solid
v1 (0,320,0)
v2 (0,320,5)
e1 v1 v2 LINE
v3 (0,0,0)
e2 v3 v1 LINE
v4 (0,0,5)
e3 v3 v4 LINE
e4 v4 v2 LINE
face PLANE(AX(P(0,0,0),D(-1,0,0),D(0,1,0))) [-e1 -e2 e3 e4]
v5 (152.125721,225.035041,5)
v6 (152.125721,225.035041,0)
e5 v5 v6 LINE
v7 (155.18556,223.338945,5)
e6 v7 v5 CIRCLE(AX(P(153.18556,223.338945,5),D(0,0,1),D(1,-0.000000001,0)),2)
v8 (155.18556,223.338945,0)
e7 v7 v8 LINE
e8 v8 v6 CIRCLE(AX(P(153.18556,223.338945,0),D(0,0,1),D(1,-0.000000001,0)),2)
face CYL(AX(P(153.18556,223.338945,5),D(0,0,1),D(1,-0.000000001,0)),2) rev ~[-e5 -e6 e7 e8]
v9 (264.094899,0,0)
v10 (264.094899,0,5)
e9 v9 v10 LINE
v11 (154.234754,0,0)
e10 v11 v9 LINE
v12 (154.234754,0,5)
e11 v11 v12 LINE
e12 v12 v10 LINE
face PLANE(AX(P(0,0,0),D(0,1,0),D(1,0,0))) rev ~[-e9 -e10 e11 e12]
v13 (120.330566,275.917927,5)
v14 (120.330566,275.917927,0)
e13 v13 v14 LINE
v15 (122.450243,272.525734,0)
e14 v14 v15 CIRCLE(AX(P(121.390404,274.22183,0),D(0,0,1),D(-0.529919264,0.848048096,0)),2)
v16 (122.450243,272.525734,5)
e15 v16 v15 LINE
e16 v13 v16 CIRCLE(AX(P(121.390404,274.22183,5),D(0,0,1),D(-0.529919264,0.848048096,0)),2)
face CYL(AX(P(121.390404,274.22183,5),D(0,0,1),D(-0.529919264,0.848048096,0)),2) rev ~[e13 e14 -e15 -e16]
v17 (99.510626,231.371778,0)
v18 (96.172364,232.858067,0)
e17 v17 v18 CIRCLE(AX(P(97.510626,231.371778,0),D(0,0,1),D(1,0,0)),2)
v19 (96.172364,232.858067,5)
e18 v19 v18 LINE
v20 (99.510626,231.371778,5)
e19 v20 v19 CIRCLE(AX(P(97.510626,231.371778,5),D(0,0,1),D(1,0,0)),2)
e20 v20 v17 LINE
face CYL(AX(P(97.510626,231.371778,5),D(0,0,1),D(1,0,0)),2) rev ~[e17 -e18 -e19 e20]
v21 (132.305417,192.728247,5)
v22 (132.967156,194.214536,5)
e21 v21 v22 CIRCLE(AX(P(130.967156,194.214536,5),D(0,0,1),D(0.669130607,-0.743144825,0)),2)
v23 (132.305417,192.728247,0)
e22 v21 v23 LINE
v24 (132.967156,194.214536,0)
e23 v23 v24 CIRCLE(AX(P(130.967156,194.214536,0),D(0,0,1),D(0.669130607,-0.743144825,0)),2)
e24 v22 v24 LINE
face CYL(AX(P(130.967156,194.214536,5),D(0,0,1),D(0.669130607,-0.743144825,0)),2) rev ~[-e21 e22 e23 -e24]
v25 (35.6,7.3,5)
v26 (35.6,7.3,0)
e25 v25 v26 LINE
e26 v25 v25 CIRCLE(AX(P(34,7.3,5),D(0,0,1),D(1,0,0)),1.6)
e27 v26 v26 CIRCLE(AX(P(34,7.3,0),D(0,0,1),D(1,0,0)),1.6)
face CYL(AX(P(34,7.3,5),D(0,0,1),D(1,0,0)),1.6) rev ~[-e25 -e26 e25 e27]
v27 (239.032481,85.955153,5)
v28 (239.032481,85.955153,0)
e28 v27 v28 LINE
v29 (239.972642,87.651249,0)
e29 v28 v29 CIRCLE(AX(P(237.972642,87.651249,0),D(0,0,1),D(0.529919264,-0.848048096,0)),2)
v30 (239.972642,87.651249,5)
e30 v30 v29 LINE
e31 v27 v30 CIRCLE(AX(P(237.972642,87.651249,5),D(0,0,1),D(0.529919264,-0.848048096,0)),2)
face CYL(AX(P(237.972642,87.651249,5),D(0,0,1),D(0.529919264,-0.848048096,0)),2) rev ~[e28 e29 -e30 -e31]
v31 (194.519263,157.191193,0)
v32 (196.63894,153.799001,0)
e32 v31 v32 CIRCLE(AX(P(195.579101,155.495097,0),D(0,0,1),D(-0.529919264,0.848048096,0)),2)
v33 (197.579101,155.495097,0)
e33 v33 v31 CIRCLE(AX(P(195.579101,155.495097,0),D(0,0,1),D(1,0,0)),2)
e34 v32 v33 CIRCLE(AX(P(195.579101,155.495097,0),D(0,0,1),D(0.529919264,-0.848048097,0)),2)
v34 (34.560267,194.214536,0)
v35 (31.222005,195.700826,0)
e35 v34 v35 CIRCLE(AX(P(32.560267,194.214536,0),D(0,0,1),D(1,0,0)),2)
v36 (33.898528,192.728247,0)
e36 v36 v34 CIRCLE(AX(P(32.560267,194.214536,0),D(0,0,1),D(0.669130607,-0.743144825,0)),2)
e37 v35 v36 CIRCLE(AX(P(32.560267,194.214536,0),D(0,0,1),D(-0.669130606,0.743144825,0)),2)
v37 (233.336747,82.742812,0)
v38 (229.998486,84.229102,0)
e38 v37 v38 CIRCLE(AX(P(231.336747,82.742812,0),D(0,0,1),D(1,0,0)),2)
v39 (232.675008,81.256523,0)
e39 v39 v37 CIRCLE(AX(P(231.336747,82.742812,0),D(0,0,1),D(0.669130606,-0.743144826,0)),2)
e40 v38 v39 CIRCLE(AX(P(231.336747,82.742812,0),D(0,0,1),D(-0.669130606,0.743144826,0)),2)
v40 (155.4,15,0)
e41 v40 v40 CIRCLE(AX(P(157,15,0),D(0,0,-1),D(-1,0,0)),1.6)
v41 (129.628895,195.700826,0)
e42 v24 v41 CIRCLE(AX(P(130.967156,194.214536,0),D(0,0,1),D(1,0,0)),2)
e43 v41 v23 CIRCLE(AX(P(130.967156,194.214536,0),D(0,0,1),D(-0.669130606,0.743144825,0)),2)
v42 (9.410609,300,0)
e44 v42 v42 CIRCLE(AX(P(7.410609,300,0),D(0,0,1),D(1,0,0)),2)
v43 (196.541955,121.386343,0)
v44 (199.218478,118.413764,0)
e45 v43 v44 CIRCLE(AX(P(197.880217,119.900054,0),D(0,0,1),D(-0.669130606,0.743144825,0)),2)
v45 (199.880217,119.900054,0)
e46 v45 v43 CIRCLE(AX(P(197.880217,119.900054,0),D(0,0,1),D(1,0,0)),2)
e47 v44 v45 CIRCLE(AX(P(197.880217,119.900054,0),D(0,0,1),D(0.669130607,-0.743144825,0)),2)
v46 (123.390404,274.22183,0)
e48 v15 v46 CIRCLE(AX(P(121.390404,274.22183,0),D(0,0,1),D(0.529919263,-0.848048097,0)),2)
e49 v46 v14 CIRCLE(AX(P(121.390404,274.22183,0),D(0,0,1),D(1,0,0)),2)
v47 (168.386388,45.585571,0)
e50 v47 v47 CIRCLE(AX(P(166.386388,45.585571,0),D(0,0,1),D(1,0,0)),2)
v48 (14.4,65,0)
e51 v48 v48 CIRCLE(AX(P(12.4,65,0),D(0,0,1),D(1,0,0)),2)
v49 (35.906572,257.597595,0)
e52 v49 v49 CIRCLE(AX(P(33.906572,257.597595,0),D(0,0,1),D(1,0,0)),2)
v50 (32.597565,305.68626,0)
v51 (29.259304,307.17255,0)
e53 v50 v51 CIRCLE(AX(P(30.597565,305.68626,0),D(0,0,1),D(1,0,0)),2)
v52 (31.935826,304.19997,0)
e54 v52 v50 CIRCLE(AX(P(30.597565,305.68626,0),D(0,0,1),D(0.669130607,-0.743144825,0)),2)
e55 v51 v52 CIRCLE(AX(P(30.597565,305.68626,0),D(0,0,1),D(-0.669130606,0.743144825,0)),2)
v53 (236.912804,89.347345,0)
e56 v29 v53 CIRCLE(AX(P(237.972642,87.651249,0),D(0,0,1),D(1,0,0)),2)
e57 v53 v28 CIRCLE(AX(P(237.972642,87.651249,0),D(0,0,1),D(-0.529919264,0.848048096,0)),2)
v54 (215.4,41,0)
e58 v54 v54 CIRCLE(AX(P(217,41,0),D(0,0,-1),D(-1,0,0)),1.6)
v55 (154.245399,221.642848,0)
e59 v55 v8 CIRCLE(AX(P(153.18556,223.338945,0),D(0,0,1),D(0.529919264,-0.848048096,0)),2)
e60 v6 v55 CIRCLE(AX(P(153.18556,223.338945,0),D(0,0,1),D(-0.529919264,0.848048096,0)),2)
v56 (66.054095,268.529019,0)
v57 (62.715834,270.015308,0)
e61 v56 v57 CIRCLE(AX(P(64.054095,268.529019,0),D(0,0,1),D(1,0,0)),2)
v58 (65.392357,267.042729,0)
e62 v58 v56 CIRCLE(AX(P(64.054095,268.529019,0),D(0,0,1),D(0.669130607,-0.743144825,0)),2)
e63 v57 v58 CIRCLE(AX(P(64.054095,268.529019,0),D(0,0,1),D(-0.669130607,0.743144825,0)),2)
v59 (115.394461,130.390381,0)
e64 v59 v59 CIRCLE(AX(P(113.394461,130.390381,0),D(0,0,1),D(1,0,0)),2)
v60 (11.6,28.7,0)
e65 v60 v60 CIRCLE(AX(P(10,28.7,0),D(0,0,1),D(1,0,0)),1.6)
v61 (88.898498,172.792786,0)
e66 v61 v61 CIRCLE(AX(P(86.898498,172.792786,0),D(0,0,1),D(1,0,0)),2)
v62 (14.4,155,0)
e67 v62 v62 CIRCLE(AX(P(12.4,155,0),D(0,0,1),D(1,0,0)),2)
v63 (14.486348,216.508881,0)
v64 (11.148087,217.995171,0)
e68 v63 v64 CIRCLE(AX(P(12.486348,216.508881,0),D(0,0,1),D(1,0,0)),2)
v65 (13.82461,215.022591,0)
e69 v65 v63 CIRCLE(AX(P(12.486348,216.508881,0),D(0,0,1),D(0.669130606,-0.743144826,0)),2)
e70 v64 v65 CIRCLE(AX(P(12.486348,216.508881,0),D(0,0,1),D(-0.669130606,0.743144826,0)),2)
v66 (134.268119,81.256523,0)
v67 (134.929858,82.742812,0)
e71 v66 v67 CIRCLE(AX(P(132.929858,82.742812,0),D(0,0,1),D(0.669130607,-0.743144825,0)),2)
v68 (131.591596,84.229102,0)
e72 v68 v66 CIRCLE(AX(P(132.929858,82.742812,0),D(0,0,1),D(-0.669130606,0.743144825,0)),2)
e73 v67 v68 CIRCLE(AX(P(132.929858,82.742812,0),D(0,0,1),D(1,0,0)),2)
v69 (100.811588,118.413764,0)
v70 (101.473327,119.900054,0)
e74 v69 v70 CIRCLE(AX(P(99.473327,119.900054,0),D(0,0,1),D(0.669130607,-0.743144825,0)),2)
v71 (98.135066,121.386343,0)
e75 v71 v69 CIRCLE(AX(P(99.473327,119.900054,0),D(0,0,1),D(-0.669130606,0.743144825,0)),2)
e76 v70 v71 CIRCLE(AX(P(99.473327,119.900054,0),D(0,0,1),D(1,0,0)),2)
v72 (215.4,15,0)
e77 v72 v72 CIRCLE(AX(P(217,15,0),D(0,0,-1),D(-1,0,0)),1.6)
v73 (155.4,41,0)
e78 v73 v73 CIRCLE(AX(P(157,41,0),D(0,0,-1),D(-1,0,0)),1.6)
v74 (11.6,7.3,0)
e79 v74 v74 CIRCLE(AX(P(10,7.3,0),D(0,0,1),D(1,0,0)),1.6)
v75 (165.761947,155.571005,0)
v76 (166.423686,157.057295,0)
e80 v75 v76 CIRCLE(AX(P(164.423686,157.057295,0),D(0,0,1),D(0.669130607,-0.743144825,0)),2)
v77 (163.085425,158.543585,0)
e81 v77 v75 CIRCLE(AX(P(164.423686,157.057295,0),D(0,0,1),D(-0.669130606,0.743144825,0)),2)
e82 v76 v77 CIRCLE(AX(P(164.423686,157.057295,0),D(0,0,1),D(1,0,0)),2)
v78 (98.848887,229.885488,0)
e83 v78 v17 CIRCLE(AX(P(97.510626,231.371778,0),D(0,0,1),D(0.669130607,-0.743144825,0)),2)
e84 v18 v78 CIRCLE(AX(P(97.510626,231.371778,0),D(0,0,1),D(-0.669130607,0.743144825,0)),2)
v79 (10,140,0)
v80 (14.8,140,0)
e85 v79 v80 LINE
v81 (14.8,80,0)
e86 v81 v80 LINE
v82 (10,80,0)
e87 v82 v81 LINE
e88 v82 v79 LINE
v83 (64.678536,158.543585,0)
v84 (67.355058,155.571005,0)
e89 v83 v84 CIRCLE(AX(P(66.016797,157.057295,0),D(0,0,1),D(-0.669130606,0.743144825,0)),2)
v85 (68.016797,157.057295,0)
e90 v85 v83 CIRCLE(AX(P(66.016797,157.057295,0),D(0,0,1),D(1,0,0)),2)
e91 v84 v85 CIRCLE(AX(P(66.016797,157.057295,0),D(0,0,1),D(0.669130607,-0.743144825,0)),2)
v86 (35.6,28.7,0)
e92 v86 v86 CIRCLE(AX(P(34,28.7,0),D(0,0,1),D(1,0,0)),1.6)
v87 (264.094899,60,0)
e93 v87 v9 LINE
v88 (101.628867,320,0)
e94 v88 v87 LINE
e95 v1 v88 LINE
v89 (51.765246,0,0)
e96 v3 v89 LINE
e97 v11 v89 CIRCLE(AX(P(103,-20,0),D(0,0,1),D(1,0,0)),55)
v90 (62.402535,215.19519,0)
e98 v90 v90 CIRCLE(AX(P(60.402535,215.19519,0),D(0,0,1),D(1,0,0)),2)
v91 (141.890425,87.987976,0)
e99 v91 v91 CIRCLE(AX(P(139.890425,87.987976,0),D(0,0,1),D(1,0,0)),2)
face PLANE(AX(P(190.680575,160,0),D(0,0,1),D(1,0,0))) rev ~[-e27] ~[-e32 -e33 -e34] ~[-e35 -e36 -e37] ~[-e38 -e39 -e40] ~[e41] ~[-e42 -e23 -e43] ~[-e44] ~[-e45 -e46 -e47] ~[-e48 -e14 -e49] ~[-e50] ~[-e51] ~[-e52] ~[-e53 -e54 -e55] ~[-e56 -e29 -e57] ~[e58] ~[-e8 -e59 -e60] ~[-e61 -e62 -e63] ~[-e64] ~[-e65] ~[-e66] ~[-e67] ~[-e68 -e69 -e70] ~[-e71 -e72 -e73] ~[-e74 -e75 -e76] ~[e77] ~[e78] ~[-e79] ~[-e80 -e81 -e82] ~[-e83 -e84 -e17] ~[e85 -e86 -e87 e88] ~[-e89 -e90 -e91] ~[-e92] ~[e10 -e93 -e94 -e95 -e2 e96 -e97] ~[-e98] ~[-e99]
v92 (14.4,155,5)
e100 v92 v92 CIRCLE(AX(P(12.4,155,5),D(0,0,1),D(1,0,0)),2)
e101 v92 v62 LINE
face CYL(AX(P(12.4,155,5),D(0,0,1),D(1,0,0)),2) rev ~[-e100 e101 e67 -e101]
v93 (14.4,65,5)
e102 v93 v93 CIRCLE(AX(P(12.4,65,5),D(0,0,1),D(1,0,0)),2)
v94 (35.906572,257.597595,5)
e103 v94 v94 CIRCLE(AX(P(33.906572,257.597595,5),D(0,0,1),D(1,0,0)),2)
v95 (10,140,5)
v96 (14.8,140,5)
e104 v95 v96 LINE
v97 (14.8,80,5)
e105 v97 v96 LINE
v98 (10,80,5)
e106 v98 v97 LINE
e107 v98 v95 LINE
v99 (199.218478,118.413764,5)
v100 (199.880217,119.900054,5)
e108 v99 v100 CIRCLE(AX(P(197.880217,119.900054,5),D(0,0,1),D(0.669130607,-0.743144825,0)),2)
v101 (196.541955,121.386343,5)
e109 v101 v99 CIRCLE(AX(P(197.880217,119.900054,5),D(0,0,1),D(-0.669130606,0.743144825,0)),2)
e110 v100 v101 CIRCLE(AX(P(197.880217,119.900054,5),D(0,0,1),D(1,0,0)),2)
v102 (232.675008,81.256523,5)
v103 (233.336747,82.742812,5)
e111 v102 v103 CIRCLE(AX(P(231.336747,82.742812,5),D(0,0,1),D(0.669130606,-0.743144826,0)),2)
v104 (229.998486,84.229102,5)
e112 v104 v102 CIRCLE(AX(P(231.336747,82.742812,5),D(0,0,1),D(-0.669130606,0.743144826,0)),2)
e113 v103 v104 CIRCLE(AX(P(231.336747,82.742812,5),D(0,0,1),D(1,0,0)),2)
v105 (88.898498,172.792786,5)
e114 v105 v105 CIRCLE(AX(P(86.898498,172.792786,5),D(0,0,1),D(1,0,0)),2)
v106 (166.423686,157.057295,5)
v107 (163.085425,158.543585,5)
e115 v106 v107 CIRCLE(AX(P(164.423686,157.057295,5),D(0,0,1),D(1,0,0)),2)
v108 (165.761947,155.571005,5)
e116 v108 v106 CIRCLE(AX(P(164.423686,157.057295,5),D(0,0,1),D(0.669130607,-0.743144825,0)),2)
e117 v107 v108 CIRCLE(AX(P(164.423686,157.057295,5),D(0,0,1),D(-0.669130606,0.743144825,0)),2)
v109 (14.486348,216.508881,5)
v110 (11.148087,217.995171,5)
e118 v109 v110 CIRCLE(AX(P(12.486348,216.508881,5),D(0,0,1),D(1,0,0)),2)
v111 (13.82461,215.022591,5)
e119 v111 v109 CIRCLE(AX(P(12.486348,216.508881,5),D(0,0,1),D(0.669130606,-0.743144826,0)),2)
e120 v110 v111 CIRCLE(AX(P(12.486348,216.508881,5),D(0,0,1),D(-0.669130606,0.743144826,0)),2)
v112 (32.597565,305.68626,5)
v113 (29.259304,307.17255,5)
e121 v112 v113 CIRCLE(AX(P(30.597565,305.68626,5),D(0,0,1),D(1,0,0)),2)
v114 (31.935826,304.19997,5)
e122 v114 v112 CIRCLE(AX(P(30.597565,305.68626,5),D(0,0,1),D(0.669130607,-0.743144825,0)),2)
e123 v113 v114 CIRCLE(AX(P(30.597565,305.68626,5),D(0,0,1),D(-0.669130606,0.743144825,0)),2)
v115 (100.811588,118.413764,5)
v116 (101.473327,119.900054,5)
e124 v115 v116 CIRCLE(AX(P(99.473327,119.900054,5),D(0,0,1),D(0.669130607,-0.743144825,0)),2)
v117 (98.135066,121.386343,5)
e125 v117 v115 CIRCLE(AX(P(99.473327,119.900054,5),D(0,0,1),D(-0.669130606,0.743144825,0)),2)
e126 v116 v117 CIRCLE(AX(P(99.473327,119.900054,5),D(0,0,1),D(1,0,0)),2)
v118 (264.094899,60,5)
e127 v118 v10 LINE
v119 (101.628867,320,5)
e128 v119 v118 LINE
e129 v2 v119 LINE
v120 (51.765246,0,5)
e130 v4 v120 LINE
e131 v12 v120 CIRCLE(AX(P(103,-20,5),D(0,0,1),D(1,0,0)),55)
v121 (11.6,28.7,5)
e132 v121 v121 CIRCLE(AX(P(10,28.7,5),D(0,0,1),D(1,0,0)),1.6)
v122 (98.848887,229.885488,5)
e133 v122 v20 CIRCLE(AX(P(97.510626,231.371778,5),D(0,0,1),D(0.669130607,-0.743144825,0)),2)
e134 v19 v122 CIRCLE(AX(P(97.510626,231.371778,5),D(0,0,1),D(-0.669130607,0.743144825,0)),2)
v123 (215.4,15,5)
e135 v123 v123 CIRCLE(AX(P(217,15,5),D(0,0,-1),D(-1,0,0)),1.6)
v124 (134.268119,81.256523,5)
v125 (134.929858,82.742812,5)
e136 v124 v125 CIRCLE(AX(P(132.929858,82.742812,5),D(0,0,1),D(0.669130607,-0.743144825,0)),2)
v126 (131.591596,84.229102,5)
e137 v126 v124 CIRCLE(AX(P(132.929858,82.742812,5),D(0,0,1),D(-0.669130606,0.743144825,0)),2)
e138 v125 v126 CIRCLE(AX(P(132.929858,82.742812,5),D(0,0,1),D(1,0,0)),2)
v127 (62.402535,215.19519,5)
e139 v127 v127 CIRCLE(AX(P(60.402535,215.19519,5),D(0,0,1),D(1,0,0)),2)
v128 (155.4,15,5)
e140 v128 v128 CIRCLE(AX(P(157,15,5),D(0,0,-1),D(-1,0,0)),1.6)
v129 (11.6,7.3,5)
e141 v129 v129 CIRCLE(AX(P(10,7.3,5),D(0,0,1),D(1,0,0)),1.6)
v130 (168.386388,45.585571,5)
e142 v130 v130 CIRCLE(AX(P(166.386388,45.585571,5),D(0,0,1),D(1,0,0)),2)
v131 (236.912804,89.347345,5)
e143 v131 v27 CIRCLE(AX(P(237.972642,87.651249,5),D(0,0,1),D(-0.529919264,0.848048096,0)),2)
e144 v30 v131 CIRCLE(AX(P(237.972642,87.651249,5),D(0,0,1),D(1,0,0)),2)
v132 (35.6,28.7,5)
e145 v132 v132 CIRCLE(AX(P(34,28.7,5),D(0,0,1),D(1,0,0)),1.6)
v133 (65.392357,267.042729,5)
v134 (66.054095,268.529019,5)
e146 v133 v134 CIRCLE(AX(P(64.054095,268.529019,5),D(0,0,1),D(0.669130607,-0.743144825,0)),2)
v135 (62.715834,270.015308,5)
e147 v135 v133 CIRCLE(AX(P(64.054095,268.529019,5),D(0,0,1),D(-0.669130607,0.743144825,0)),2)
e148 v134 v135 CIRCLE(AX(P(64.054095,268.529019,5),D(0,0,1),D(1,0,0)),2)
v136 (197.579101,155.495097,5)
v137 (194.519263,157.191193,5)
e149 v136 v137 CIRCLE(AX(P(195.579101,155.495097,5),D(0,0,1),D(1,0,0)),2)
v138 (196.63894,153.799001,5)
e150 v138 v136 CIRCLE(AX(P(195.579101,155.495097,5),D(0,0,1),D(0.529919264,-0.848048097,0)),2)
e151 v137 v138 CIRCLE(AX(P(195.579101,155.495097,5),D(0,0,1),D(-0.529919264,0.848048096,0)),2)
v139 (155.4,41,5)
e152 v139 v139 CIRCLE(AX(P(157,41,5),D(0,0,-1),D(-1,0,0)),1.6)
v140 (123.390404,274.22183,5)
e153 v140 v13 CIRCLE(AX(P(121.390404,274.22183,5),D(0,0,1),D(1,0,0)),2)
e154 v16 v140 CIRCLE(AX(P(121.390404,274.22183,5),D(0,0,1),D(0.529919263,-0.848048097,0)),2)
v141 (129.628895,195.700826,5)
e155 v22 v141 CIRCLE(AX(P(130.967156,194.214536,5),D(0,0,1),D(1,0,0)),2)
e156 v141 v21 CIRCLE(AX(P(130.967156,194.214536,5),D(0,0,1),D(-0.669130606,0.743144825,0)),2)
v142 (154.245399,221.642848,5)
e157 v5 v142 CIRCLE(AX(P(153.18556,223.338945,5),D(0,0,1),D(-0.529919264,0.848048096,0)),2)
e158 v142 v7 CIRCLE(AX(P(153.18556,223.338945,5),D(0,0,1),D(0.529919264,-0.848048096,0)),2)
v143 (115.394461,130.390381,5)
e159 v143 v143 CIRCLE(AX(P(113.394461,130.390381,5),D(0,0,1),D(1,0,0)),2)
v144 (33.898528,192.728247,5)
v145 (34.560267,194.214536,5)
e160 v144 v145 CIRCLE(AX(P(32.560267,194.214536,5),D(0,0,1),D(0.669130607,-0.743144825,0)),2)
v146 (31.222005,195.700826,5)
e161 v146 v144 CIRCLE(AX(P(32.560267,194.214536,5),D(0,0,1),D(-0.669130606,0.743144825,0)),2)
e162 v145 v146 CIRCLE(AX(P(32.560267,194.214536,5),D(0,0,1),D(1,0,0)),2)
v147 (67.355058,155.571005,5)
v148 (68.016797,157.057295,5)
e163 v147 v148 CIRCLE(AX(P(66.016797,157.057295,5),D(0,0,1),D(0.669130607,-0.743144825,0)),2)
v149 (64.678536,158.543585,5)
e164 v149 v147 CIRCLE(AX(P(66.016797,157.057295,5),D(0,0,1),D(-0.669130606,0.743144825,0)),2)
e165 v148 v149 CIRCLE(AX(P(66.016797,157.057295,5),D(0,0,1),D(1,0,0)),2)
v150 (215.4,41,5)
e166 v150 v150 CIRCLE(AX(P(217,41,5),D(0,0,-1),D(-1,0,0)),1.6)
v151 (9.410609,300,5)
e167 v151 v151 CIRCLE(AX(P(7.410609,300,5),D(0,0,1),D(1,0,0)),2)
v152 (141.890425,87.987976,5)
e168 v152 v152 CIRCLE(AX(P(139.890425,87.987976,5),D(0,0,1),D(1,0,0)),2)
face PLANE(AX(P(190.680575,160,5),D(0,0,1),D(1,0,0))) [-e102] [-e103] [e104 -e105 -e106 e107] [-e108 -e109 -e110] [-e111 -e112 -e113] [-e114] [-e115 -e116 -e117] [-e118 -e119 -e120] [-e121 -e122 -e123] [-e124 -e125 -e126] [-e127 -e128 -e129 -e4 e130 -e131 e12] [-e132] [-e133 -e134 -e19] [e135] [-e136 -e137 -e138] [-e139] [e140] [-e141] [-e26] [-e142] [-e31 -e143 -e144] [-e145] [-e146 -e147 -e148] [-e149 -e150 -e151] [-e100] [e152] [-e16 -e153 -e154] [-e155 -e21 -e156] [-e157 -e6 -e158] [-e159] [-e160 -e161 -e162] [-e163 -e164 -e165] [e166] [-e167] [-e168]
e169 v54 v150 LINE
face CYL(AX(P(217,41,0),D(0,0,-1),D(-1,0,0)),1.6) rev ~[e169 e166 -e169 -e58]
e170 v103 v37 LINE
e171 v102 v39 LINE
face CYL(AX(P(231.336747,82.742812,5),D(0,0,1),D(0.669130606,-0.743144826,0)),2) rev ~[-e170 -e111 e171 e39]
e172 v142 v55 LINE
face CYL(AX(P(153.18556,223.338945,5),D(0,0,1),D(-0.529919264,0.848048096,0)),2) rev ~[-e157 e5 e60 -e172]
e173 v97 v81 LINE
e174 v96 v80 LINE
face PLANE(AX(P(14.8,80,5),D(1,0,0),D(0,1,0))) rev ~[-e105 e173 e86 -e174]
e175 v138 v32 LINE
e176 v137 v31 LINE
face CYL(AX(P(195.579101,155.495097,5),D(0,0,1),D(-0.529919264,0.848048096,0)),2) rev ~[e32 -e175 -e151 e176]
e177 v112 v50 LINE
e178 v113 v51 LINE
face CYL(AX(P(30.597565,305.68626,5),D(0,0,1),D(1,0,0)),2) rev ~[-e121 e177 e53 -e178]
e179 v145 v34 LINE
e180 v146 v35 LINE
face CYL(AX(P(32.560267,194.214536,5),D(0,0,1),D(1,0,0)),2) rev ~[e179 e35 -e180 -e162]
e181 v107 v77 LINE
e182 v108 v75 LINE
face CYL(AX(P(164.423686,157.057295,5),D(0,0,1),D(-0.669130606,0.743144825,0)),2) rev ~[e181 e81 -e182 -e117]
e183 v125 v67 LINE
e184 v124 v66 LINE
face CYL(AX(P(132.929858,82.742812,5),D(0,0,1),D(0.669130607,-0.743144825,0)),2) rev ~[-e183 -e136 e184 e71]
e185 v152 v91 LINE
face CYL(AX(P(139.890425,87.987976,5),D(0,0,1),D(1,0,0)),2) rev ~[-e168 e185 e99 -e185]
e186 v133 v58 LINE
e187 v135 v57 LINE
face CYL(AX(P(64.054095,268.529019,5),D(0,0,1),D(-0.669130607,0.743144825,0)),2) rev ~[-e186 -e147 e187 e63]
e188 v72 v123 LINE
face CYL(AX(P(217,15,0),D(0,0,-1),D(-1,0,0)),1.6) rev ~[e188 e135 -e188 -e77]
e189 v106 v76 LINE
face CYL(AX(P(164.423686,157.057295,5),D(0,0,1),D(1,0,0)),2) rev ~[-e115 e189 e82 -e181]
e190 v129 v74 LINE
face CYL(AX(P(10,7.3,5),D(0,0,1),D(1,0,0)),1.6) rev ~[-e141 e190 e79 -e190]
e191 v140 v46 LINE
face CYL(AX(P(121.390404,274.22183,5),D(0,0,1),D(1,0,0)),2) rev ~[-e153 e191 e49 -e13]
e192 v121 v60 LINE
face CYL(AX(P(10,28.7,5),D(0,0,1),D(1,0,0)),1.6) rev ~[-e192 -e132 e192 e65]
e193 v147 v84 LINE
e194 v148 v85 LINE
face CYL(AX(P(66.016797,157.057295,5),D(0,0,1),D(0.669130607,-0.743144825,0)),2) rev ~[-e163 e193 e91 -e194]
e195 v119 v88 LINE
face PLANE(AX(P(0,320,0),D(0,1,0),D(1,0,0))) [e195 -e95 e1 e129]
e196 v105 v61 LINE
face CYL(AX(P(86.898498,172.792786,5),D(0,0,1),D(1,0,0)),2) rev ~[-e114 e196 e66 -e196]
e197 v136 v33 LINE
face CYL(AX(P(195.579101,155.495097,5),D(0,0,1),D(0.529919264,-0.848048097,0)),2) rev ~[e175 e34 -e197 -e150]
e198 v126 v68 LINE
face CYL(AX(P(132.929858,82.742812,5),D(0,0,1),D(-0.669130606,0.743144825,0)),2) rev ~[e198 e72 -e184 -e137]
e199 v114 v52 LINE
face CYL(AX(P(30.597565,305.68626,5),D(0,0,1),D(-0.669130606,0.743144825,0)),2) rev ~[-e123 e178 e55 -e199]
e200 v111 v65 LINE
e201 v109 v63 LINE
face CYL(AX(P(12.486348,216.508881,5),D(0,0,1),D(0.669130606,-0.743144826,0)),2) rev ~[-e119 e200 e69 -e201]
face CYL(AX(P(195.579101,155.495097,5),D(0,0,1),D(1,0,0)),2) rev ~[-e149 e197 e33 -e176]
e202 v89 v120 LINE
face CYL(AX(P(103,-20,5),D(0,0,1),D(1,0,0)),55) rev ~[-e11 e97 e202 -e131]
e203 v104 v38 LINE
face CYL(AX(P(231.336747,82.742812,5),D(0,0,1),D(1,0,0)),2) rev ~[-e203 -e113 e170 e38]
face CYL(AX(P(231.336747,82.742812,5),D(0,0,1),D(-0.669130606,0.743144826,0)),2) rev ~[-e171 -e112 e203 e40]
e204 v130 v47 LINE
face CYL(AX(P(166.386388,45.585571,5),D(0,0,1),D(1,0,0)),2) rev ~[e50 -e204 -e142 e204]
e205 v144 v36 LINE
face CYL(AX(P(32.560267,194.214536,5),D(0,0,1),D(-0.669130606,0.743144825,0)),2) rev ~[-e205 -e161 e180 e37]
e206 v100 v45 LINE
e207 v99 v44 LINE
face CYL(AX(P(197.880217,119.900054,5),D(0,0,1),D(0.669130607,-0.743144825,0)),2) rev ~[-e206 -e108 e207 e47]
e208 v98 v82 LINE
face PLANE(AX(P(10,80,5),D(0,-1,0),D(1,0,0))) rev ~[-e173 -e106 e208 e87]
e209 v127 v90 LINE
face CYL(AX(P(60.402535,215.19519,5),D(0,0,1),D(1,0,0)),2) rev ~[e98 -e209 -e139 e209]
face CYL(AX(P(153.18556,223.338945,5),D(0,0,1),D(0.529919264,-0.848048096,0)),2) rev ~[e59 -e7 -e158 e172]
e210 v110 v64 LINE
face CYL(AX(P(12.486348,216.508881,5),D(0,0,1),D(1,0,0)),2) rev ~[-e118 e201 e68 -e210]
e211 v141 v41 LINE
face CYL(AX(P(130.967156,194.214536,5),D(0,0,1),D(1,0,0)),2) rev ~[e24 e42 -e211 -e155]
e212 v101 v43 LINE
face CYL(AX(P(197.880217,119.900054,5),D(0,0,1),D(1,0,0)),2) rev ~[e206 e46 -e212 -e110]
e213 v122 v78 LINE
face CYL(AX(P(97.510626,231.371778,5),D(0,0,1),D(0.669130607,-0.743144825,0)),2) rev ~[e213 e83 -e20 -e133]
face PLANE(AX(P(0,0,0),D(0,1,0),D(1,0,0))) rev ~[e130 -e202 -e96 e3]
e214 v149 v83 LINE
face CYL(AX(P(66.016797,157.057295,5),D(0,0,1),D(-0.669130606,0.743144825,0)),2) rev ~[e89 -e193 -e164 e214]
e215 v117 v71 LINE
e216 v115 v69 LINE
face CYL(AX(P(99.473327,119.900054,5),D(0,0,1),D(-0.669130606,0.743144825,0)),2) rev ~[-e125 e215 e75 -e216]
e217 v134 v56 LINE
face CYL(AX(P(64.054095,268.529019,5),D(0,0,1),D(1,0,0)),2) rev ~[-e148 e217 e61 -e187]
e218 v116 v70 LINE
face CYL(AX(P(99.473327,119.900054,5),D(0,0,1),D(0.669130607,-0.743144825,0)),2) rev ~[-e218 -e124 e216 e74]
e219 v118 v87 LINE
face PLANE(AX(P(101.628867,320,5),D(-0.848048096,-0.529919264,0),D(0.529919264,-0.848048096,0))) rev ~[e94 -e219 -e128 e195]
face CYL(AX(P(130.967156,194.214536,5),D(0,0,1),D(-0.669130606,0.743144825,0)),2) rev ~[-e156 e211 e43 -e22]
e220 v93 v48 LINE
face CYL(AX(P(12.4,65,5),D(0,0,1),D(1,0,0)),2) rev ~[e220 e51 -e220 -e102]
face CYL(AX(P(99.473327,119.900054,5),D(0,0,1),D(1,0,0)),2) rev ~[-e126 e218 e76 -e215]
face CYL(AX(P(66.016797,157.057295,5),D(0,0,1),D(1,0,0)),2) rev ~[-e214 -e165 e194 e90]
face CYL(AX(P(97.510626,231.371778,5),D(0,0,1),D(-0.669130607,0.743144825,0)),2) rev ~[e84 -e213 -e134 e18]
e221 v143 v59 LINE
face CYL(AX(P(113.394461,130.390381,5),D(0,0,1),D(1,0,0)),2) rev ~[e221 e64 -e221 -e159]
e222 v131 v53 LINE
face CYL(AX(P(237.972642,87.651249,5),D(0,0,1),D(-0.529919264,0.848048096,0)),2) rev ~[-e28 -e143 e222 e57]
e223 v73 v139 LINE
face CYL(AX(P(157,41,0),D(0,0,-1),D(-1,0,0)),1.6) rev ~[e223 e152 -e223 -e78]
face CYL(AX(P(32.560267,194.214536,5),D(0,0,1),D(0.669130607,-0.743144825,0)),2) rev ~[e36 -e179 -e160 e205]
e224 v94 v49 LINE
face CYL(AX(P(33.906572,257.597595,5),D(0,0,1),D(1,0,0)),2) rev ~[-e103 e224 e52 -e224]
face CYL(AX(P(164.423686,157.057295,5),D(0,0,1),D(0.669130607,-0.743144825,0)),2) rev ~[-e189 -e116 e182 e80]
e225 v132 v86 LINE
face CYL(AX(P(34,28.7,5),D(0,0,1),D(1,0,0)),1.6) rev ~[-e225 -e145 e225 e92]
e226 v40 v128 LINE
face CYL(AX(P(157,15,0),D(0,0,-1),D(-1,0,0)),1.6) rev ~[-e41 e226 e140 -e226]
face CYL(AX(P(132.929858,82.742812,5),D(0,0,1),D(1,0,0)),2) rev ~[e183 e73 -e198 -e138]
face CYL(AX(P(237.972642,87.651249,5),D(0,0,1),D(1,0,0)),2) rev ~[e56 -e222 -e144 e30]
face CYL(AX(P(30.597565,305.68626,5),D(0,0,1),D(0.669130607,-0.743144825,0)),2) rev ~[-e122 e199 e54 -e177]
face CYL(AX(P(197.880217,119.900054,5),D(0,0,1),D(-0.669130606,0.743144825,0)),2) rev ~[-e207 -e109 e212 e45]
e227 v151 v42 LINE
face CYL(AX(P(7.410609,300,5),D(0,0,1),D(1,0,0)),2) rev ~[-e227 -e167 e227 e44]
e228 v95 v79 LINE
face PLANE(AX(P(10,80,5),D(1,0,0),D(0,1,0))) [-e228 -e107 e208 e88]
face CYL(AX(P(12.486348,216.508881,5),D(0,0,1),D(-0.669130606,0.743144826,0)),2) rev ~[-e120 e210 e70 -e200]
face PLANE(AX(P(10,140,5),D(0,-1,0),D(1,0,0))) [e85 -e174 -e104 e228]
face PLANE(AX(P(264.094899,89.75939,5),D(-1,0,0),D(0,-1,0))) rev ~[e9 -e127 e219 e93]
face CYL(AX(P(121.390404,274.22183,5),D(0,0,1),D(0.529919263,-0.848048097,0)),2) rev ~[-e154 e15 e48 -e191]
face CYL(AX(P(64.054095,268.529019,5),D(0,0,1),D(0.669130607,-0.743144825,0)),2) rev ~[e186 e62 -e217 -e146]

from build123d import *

# Parameters (mm, degrees)
SKETCH1_W           = 381.36114963
SKETCH1_H           = 320
BOSS_EXTRUDE1_DEPTH = 5
SKETCH2_R           = 55
CUT_EXTRUDE1_DEPTH  = 5
CUT_EXTRUDE2_DEPTH  = 5
SKETCH6_R           = 1.6
CUT_EXTRUDE5_DEPTH  = 5
CUT_EXTRUDE6_DEPTH  = 10
SKETCH4_R           = 1.6
CUT_EXTRUDE7_DEPTH  = 10
CUT_EXTRUDE8_DEPTH  = 31.5
SKETCH9_R           = 2
CUT_EXTRUDE9_DEPTH  = 10
CUT_EXTRUDE10_DEPTH = 10
CUT_EXTRUDE11_DEPTH = 10
SKETCH14_W          = 4.8
SKETCH14_H          = 60
CUT_EXTRUDE12_DEPTH = 5
SKETCH15_R          = 2
CUT_EXTRUDE13_DEPTH = 5


with BuildPart() as part:
    # Sketch1 → Boss-Extrude1 (new body)
    with BuildSketch(Plane.XY):
        with Locations((190.680574815, 160)):
            Rectangle(SKETCH1_W, SKETCH1_H)
    extrude(amount=BOSS_EXTRUDE1_DEPTH)

    # Sketch2 → Cut-Extrude1 (cut)
    with BuildSketch(Plane.XY.offset(5)):
        with Locations((103, -20)):
            Circle(SKETCH2_R)
    extrude(amount=-CUT_EXTRUDE1_DEPTH, mode=Mode.SUBTRACT)

    # Sketch3 → Cut-Extrude2 (cut)
    with BuildSketch(Plane.XY.offset(5)):
        with BuildLine():
            ThreePointArc((120.330565639, 275.917926616), (119.694307975, 273.161991895), (122.450242696, 272.525734232))
            Line((122.450242696, 272.525734232), (120.330565639, 275.917926616))
        make_face()
        with BuildLine():
            Line((120.330565639, 275.917926616), (122.450242696, 272.525734232))
            ThreePointArc((122.450242696, 272.525734232), (123.139643582, 273.252211183), (123.390404167, 274.221830424))
            ThreePointArc((123.390404167, 274.221830424), (122.360023408, 275.971069838), (120.330565639, 275.917926616))
        make_face()
        with BuildLine():
            ThreePointArc((152.125721493, 225.035040847), (151.489463829, 222.279106126), (154.24539855, 221.642848462))
            Line((154.24539855, 221.642848462), (152.125721493, 225.035040847))
        make_face()
        with BuildLine():
            Line((152.125721493, 225.035040847), (154.24539855, 221.642848462))
            ThreePointArc((154.24539855, 221.642848462), (154.934799436, 222.369325414), (155.185560021, 223.338944654))
            ThreePointArc((155.185560021, 223.338944654), (154.155179262, 225.088184069), (152.125721493, 225.035040847))
        make_face()
        with BuildLine():
            ThreePointArc((194.519262632, 157.191193154), (193.883004968, 154.435258433), (196.638939688, 153.79900077))
            Line((196.638939688, 153.79900077), (194.519262632, 157.191193154))
        make_face()
        with BuildLine():
            Line((194.519262632, 157.191193154), (196.638939688, 153.79900077))
            ThreePointArc((196.638939688, 153.79900077), (197.328340574, 154.525477721), (197.57910116, 155.495096962))
            ThreePointArc((197.57910116, 155.495096962), (196.5487204, 157.244336376), (194.519262632, 157.191193154))
        make_face()
        with BuildLine():
            ThreePointArc((236.91280377, 89.347345462), (236.276546106, 86.591410741), (239.032480827, 85.955153077))
            Line((239.032480827, 85.955153077), (236.91280377, 89.347345462))
        make_face()
        with BuildLine():
            Line((236.91280377, 89.347345462), (239.032480827, 85.955153077))
            ThreePointArc((239.032480827, 85.955153077), (239.721881713, 86.681630029), (239.972642299, 87.651249269))
            ThreePointArc((239.972642299, 87.651249269), (238.942261539, 89.400488684), (236.91280377, 89.347345462))
        make_face()
        with BuildLine():
            ThreePointArc((268.707959624, 38.464459692), (268.07170196, 35.708524972), (270.827636681, 35.072267308))
            Line((270.827636681, 35.072267308), (268.707959624, 38.464459692))
        make_face()
        with BuildLine():
            Line((268.707959624, 38.464459692), (270.827636681, 35.072267308))
            ThreePointArc((270.827636681, 35.072267308), (271.517037567, 35.79874426), (271.767798153, 36.7683635))
            ThreePointArc((271.767798153, 36.7683635), (270.737417393, 38.517602914), (268.707959624, 38.464459692))
        make_face()
        with BuildLine():
            ThreePointArc((300.503115478, -12.418426077), (299.866857814, -15.174360798), (302.622792535, -15.810618462))
            Line((302.622792535, -15.810618462), (300.503115478, -12.418426077))
        make_face()
        with BuildLine():
            Line((300.503115478, -12.418426077), (302.622792535, -15.810618462))
            ThreePointArc((302.622792535, -15.810618462), (303.312193421, -15.08414151), (303.562954007, -14.114522269))
            ThreePointArc((303.562954007, -14.114522269), (302.532573247, -12.365282855), (300.503115478, -12.418426077))
        make_face()
    extrude(amount=-CUT_EXTRUDE2_DEPTH, mode=Mode.SUBTRACT)

    # Sketch6 → Cut-Extrude5 (cut)
    with BuildSketch(Plane.XY.offset(5)):
        with Locations((10, 28.7)):
            Circle(SKETCH6_R)
        with Locations((34, 28.7)):
            Circle(SKETCH6_R)
        with Locations((10, 7.3)):
            Circle(SKETCH6_R)
        with Locations((34, 7.3)):
            Circle(SKETCH6_R)
        with Locations((310, 28.7)):
            Circle(SKETCH6_R)
        with Locations((334, 28.7)):
            Circle(SKETCH6_R)
        with Locations((334, 7.3)):
            Circle(SKETCH6_R)
        with Locations((310, 7.3)):
            Circle(SKETCH6_R)
    extrude(amount=-CUT_EXTRUDE5_DEPTH, mode=Mode.SUBTRACT)

    # Sketch7 → Cut-Extrude6 (cut)
    with BuildSketch(Plane.XY.offset(5)):
        Polygon((101.628867038, 320), (264.094898534, 60), (381.36114963, 60), (381.36114963, 320), align=None)
    extrude(amount=-CUT_EXTRUDE6_DEPTH, mode=Mode.SUBTRACT)

    # Sketch4 → Cut-Extrude7 (cut)
    with BuildSketch(Plane(origin=(0, 0, 0), x_dir=(-1, 0, 0), z_dir=(0, 0, -1))):
        with Locations((-157, 41)):
            Circle(SKETCH4_R)
        with Locations((-157, 15)):
            Circle(SKETCH4_R)
        with Locations((-217, 15)):
            Circle(SKETCH4_R)
        with Locations((-217, 41)):
            Circle(SKETCH4_R)
    extrude(amount=-CUT_EXTRUDE7_DEPTH, mode=Mode.SUBTRACT)

    # Sketch8 → Cut-Extrude8 (cut)
    with BuildSketch(Plane.XY.offset(5)):
        Polygon((-627.043699354, 0), (212.766195579, 0), (381.36114963, 0), (381.36114963, 89.759390224), (264.094898534, 89.759390224), (264.094898534, 60), (264.094898534, 0), (264.094898534, -839.809894932), (1416.040479004, 382.541943999), (524.901881116, 1222.351838932), align=None)
    extrude(amount=-CUT_EXTRUDE8_DEPTH, mode=Mode.SUBTRACT)

    # Sketch9 → Cut-Extrude9 (cut)
    with BuildSketch(Plane.XY.offset(5)):
        with Locations((7.410608572, 300)):
            Circle(SKETCH9_R)
        with Locations((33.906571783, 257.597595192)):
            Circle(SKETCH9_R)
        with Locations((60.402534995, 215.195190384)):
            Circle(SKETCH9_R)
        with Locations((86.898498207, 172.792785577)):
            Circle(SKETCH9_R)
        with Locations((113.394461418, 130.390380769)):
            Circle(SKETCH9_R)
        with Locations((139.89042463, 87.987975961)):
            Circle(SKETCH9_R)
        with Locations((166.386387842, 45.585571153)):
            Circle(SKETCH9_R)
    extrude(amount=-CUT_EXTRUDE9_DEPTH, mode=Mode.SUBTRACT)

    # Sketch10 → Cut-Extrude10 (cut)
    with BuildSketch(Plane.XY.offset(5)):
        with BuildLine():
            ThreePointArc((11.148087167, 217.995170664), (11.000058728, 215.1706198), (13.824609592, 215.022591362))
            Line((13.824609592, 215.022591362), (11.148087167, 217.995170664))
        make_face()
        with BuildLine():
            Line((11.148087167, 217.995170664), (13.824609592, 215.022591362))
            ThreePointArc((13.824609592, 215.022591362), (14.313439295, 215.695407727), (14.486348379, 216.508881013))
            ThreePointArc((14.486348379, 216.508881013), (13.299821665, 218.335971928), (11.148087167, 217.995170664))
        make_face()
        with BuildLine():
            ThreePointArc((31.222005357, 195.7008259), (31.073976919, 192.876275036), (33.898527783, 192.728246598))
            Line((33.898527783, 192.728246598), (31.222005357, 195.7008259))
        make_face()
        with BuildLine():
            Line((31.222005357, 195.7008259), (33.898527783, 192.728246598))
            ThreePointArc((33.898527783, 192.728246598), (34.387357485, 193.401062962), (34.56026657, 194.214536249))
            ThreePointArc((34.56026657, 194.214536249), (33.373739856, 196.041627164), (31.222005357, 195.7008259))
        make_face()
        with BuildLine():
            ThreePointArc((64.678535675, 158.543584626), (64.530507237, 155.719033762), (67.355058101, 155.571005324))
            Line((67.355058101, 155.571005324), (64.678535675, 158.543584626))
        make_face()
        with BuildLine():
            Line((64.678535675, 158.543584626), (67.355058101, 155.571005324))
            ThreePointArc((67.355058101, 155.571005324), (67.843887803, 156.243821689), (68.016796888, 157.057294975))
            ThreePointArc((68.016796888, 157.057294975), (66.830270174, 158.88438589), (64.678535675, 158.543584626))
        make_face()
        with BuildLine():
            ThreePointArc((98.135065993, 121.386343352), (97.987037555, 118.561792488), (100.811588419, 118.41376405))
            Line((100.811588419, 118.41376405), (98.135065993, 121.386343352))
        make_face()
        with BuildLine():
            Line((98.135065993, 121.386343352), (100.811588419, 118.41376405))
            ThreePointArc((100.811588419, 118.41376405), (101.300418121, 119.086580415), (101.473327206, 119.900053701))
            ThreePointArc((101.473327206, 119.900053701), (100.286800492, 121.727144616), (98.135065993, 121.386343352))
        make_face()
        with BuildLine():
            ThreePointArc((131.591596311, 84.229102078), (131.443567873, 81.404551214), (134.268118737, 81.256522776))
            Line((134.268118737, 81.256522776), (131.591596311, 84.229102078))
        make_face()
        with BuildLine():
            Line((131.591596311, 84.229102078), (134.268118737, 81.256522776))
            ThreePointArc((134.268118737, 81.256522776), (134.756948439, 81.929339141), (134.929857524, 82.742812427))
            ThreePointArc((134.929857524, 82.742812427), (133.74333081, 84.569903342), (131.591596311, 84.229102078))
        make_face()
    extrude(amount=-CUT_EXTRUDE10_DEPTH, mode=Mode.SUBTRACT)

    # Sketch12 → Cut-Extrude11 (cut)
    with BuildSketch(Plane.XY.offset(5)):
        with BuildLine():
            ThreePointArc((29.259303801, 307.172549721), (29.111275363, 304.347998857), (31.935826227, 304.199970419))
            Line((31.935826227, 304.199970419), (29.259303801, 307.172549721))
        make_face()
        with BuildLine():
            Line((29.259303801, 307.172549721), (31.935826227, 304.199970419))
            ThreePointArc((31.935826227, 304.199970419), (32.424655929, 304.872786784), (32.597565014, 305.68626007))
            ThreePointArc((32.597565014, 305.68626007), (31.4110383, 307.513350985), (29.259303801, 307.172549721))
        make_face()
        with BuildLine():
            ThreePointArc((62.715834119, 270.015308447), (62.567805681, 267.190757584), (65.392356545, 267.042729145))
            Line((65.392356545, 267.042729145), (62.715834119, 270.015308447))
        make_face()
        with BuildLine():
            Line((62.715834119, 270.015308447), (65.392356545, 267.042729145))
            ThreePointArc((65.392356545, 267.042729145), (65.881186247, 267.71554551), (66.054095332, 268.529018796))
            ThreePointArc((66.054095332, 268.529018796), (64.867568618, 270.356109712), (62.715834119, 270.015308447))
        make_face()
        with BuildLine():
            ThreePointArc((96.172364437, 232.858067173), (96.024335999, 230.03351631), (98.848886863, 229.885487871))
            Line((98.848886863, 229.885487871), (96.172364437, 232.858067173))
        make_face()
        with BuildLine():
            Line((96.172364437, 232.858067173), (98.848886863, 229.885487871))
            ThreePointArc((98.848886863, 229.885487871), (99.337716565, 230.558304236), (99.51062565, 231.371777522))
            ThreePointArc((99.51062565, 231.371777522), (98.324098936, 233.198868438), (96.172364437, 232.858067173))
        make_face()
        with BuildLine():
            ThreePointArc((129.628894755, 195.7008259), (129.480866317, 192.876275036), (132.305417181, 192.728246598))
            Line((132.305417181, 192.728246598), (129.628894755, 195.7008259))
        make_face()
        with BuildLine():
            Line((129.628894755, 195.7008259), (132.305417181, 192.728246598))
            ThreePointArc((132.305417181, 192.728246598), (132.794246883, 193.401062962), (132.967155968, 194.214536249))
            ThreePointArc((132.967155968, 194.214536249), (131.780629254, 196.041627164), (129.628894755, 195.7008259))
        make_face()
        with BuildLine():
            ThreePointArc((163.085425073, 158.543584626), (162.937396635, 155.719033762), (165.761947499, 155.571005324))
            Line((165.761947499, 155.571005324), (163.085425073, 158.543584626))
        make_face()
        with BuildLine():
            Line((163.085425073, 158.543584626), (165.761947499, 155.571005324))
            ThreePointArc((165.761947499, 155.571005324), (166.250777201, 156.243821689), (166.423686286, 157.057294975))
            ThreePointArc((166.423686286, 157.057294975), (165.237159572, 158.88438589), (163.085425073, 158.543584626))
        make_face()
        with BuildLine():
            ThreePointArc((196.541955391, 121.386343352), (196.393926953, 118.561792488), (199.218477817, 118.41376405))
            Line((199.218477817, 118.41376405), (196.541955391, 121.386343352))
        make_face()
        with BuildLine():
            Line((196.541955391, 121.386343352), (199.218477817, 118.41376405))
            ThreePointArc((199.218477817, 118.41376405), (199.707307519, 119.086580415), (199.880216604, 119.900053701))
            ThreePointArc((199.880216604, 119.900053701), (198.69368989, 121.727144616), (196.541955391, 121.386343352))
        make_face()
        with BuildLine():
            ThreePointArc((229.998485709, 84.229102078), (229.850457271, 81.404551214), (232.675008134, 81.256522776))
            Line((232.675008134, 81.256522776), (229.998485709, 84.229102078))
        make_face()
        with BuildLine():
            Line((229.998485709, 84.229102078), (232.675008134, 81.256522776))
            ThreePointArc((232.675008134, 81.256522776), (233.163837837, 81.929339141), (233.336746922, 82.742812427))
            ThreePointArc((233.336746922, 82.742812427), (232.150220208, 84.569903342), (229.998485709, 84.229102078))
        make_face()
    extrude(amount=-CUT_EXTRUDE11_DEPTH, mode=Mode.SUBTRACT)

    # Sketch14 → Cut-Extrude12 (cut)
    with BuildSketch(Plane.XY.offset(5)):
        with Locations((12.4, 110)):
            Rectangle(SKETCH14_W, SKETCH14_H)
    extrude(amount=-CUT_EXTRUDE12_DEPTH, mode=Mode.SUBTRACT)

    # Sketch15 → Cut-Extrude13 (cut)
    with BuildSketch(Plane.XY.offset(5)):
        with Locations((12.4, 155)):
            Circle(SKETCH15_R)
        with Locations((12.4, 65)):
            Circle(SKETCH15_R)
    extrude(amount=-CUT_EXTRUDE13_DEPTH, mode=Mode.SUBTRACT)


solid = part.part
